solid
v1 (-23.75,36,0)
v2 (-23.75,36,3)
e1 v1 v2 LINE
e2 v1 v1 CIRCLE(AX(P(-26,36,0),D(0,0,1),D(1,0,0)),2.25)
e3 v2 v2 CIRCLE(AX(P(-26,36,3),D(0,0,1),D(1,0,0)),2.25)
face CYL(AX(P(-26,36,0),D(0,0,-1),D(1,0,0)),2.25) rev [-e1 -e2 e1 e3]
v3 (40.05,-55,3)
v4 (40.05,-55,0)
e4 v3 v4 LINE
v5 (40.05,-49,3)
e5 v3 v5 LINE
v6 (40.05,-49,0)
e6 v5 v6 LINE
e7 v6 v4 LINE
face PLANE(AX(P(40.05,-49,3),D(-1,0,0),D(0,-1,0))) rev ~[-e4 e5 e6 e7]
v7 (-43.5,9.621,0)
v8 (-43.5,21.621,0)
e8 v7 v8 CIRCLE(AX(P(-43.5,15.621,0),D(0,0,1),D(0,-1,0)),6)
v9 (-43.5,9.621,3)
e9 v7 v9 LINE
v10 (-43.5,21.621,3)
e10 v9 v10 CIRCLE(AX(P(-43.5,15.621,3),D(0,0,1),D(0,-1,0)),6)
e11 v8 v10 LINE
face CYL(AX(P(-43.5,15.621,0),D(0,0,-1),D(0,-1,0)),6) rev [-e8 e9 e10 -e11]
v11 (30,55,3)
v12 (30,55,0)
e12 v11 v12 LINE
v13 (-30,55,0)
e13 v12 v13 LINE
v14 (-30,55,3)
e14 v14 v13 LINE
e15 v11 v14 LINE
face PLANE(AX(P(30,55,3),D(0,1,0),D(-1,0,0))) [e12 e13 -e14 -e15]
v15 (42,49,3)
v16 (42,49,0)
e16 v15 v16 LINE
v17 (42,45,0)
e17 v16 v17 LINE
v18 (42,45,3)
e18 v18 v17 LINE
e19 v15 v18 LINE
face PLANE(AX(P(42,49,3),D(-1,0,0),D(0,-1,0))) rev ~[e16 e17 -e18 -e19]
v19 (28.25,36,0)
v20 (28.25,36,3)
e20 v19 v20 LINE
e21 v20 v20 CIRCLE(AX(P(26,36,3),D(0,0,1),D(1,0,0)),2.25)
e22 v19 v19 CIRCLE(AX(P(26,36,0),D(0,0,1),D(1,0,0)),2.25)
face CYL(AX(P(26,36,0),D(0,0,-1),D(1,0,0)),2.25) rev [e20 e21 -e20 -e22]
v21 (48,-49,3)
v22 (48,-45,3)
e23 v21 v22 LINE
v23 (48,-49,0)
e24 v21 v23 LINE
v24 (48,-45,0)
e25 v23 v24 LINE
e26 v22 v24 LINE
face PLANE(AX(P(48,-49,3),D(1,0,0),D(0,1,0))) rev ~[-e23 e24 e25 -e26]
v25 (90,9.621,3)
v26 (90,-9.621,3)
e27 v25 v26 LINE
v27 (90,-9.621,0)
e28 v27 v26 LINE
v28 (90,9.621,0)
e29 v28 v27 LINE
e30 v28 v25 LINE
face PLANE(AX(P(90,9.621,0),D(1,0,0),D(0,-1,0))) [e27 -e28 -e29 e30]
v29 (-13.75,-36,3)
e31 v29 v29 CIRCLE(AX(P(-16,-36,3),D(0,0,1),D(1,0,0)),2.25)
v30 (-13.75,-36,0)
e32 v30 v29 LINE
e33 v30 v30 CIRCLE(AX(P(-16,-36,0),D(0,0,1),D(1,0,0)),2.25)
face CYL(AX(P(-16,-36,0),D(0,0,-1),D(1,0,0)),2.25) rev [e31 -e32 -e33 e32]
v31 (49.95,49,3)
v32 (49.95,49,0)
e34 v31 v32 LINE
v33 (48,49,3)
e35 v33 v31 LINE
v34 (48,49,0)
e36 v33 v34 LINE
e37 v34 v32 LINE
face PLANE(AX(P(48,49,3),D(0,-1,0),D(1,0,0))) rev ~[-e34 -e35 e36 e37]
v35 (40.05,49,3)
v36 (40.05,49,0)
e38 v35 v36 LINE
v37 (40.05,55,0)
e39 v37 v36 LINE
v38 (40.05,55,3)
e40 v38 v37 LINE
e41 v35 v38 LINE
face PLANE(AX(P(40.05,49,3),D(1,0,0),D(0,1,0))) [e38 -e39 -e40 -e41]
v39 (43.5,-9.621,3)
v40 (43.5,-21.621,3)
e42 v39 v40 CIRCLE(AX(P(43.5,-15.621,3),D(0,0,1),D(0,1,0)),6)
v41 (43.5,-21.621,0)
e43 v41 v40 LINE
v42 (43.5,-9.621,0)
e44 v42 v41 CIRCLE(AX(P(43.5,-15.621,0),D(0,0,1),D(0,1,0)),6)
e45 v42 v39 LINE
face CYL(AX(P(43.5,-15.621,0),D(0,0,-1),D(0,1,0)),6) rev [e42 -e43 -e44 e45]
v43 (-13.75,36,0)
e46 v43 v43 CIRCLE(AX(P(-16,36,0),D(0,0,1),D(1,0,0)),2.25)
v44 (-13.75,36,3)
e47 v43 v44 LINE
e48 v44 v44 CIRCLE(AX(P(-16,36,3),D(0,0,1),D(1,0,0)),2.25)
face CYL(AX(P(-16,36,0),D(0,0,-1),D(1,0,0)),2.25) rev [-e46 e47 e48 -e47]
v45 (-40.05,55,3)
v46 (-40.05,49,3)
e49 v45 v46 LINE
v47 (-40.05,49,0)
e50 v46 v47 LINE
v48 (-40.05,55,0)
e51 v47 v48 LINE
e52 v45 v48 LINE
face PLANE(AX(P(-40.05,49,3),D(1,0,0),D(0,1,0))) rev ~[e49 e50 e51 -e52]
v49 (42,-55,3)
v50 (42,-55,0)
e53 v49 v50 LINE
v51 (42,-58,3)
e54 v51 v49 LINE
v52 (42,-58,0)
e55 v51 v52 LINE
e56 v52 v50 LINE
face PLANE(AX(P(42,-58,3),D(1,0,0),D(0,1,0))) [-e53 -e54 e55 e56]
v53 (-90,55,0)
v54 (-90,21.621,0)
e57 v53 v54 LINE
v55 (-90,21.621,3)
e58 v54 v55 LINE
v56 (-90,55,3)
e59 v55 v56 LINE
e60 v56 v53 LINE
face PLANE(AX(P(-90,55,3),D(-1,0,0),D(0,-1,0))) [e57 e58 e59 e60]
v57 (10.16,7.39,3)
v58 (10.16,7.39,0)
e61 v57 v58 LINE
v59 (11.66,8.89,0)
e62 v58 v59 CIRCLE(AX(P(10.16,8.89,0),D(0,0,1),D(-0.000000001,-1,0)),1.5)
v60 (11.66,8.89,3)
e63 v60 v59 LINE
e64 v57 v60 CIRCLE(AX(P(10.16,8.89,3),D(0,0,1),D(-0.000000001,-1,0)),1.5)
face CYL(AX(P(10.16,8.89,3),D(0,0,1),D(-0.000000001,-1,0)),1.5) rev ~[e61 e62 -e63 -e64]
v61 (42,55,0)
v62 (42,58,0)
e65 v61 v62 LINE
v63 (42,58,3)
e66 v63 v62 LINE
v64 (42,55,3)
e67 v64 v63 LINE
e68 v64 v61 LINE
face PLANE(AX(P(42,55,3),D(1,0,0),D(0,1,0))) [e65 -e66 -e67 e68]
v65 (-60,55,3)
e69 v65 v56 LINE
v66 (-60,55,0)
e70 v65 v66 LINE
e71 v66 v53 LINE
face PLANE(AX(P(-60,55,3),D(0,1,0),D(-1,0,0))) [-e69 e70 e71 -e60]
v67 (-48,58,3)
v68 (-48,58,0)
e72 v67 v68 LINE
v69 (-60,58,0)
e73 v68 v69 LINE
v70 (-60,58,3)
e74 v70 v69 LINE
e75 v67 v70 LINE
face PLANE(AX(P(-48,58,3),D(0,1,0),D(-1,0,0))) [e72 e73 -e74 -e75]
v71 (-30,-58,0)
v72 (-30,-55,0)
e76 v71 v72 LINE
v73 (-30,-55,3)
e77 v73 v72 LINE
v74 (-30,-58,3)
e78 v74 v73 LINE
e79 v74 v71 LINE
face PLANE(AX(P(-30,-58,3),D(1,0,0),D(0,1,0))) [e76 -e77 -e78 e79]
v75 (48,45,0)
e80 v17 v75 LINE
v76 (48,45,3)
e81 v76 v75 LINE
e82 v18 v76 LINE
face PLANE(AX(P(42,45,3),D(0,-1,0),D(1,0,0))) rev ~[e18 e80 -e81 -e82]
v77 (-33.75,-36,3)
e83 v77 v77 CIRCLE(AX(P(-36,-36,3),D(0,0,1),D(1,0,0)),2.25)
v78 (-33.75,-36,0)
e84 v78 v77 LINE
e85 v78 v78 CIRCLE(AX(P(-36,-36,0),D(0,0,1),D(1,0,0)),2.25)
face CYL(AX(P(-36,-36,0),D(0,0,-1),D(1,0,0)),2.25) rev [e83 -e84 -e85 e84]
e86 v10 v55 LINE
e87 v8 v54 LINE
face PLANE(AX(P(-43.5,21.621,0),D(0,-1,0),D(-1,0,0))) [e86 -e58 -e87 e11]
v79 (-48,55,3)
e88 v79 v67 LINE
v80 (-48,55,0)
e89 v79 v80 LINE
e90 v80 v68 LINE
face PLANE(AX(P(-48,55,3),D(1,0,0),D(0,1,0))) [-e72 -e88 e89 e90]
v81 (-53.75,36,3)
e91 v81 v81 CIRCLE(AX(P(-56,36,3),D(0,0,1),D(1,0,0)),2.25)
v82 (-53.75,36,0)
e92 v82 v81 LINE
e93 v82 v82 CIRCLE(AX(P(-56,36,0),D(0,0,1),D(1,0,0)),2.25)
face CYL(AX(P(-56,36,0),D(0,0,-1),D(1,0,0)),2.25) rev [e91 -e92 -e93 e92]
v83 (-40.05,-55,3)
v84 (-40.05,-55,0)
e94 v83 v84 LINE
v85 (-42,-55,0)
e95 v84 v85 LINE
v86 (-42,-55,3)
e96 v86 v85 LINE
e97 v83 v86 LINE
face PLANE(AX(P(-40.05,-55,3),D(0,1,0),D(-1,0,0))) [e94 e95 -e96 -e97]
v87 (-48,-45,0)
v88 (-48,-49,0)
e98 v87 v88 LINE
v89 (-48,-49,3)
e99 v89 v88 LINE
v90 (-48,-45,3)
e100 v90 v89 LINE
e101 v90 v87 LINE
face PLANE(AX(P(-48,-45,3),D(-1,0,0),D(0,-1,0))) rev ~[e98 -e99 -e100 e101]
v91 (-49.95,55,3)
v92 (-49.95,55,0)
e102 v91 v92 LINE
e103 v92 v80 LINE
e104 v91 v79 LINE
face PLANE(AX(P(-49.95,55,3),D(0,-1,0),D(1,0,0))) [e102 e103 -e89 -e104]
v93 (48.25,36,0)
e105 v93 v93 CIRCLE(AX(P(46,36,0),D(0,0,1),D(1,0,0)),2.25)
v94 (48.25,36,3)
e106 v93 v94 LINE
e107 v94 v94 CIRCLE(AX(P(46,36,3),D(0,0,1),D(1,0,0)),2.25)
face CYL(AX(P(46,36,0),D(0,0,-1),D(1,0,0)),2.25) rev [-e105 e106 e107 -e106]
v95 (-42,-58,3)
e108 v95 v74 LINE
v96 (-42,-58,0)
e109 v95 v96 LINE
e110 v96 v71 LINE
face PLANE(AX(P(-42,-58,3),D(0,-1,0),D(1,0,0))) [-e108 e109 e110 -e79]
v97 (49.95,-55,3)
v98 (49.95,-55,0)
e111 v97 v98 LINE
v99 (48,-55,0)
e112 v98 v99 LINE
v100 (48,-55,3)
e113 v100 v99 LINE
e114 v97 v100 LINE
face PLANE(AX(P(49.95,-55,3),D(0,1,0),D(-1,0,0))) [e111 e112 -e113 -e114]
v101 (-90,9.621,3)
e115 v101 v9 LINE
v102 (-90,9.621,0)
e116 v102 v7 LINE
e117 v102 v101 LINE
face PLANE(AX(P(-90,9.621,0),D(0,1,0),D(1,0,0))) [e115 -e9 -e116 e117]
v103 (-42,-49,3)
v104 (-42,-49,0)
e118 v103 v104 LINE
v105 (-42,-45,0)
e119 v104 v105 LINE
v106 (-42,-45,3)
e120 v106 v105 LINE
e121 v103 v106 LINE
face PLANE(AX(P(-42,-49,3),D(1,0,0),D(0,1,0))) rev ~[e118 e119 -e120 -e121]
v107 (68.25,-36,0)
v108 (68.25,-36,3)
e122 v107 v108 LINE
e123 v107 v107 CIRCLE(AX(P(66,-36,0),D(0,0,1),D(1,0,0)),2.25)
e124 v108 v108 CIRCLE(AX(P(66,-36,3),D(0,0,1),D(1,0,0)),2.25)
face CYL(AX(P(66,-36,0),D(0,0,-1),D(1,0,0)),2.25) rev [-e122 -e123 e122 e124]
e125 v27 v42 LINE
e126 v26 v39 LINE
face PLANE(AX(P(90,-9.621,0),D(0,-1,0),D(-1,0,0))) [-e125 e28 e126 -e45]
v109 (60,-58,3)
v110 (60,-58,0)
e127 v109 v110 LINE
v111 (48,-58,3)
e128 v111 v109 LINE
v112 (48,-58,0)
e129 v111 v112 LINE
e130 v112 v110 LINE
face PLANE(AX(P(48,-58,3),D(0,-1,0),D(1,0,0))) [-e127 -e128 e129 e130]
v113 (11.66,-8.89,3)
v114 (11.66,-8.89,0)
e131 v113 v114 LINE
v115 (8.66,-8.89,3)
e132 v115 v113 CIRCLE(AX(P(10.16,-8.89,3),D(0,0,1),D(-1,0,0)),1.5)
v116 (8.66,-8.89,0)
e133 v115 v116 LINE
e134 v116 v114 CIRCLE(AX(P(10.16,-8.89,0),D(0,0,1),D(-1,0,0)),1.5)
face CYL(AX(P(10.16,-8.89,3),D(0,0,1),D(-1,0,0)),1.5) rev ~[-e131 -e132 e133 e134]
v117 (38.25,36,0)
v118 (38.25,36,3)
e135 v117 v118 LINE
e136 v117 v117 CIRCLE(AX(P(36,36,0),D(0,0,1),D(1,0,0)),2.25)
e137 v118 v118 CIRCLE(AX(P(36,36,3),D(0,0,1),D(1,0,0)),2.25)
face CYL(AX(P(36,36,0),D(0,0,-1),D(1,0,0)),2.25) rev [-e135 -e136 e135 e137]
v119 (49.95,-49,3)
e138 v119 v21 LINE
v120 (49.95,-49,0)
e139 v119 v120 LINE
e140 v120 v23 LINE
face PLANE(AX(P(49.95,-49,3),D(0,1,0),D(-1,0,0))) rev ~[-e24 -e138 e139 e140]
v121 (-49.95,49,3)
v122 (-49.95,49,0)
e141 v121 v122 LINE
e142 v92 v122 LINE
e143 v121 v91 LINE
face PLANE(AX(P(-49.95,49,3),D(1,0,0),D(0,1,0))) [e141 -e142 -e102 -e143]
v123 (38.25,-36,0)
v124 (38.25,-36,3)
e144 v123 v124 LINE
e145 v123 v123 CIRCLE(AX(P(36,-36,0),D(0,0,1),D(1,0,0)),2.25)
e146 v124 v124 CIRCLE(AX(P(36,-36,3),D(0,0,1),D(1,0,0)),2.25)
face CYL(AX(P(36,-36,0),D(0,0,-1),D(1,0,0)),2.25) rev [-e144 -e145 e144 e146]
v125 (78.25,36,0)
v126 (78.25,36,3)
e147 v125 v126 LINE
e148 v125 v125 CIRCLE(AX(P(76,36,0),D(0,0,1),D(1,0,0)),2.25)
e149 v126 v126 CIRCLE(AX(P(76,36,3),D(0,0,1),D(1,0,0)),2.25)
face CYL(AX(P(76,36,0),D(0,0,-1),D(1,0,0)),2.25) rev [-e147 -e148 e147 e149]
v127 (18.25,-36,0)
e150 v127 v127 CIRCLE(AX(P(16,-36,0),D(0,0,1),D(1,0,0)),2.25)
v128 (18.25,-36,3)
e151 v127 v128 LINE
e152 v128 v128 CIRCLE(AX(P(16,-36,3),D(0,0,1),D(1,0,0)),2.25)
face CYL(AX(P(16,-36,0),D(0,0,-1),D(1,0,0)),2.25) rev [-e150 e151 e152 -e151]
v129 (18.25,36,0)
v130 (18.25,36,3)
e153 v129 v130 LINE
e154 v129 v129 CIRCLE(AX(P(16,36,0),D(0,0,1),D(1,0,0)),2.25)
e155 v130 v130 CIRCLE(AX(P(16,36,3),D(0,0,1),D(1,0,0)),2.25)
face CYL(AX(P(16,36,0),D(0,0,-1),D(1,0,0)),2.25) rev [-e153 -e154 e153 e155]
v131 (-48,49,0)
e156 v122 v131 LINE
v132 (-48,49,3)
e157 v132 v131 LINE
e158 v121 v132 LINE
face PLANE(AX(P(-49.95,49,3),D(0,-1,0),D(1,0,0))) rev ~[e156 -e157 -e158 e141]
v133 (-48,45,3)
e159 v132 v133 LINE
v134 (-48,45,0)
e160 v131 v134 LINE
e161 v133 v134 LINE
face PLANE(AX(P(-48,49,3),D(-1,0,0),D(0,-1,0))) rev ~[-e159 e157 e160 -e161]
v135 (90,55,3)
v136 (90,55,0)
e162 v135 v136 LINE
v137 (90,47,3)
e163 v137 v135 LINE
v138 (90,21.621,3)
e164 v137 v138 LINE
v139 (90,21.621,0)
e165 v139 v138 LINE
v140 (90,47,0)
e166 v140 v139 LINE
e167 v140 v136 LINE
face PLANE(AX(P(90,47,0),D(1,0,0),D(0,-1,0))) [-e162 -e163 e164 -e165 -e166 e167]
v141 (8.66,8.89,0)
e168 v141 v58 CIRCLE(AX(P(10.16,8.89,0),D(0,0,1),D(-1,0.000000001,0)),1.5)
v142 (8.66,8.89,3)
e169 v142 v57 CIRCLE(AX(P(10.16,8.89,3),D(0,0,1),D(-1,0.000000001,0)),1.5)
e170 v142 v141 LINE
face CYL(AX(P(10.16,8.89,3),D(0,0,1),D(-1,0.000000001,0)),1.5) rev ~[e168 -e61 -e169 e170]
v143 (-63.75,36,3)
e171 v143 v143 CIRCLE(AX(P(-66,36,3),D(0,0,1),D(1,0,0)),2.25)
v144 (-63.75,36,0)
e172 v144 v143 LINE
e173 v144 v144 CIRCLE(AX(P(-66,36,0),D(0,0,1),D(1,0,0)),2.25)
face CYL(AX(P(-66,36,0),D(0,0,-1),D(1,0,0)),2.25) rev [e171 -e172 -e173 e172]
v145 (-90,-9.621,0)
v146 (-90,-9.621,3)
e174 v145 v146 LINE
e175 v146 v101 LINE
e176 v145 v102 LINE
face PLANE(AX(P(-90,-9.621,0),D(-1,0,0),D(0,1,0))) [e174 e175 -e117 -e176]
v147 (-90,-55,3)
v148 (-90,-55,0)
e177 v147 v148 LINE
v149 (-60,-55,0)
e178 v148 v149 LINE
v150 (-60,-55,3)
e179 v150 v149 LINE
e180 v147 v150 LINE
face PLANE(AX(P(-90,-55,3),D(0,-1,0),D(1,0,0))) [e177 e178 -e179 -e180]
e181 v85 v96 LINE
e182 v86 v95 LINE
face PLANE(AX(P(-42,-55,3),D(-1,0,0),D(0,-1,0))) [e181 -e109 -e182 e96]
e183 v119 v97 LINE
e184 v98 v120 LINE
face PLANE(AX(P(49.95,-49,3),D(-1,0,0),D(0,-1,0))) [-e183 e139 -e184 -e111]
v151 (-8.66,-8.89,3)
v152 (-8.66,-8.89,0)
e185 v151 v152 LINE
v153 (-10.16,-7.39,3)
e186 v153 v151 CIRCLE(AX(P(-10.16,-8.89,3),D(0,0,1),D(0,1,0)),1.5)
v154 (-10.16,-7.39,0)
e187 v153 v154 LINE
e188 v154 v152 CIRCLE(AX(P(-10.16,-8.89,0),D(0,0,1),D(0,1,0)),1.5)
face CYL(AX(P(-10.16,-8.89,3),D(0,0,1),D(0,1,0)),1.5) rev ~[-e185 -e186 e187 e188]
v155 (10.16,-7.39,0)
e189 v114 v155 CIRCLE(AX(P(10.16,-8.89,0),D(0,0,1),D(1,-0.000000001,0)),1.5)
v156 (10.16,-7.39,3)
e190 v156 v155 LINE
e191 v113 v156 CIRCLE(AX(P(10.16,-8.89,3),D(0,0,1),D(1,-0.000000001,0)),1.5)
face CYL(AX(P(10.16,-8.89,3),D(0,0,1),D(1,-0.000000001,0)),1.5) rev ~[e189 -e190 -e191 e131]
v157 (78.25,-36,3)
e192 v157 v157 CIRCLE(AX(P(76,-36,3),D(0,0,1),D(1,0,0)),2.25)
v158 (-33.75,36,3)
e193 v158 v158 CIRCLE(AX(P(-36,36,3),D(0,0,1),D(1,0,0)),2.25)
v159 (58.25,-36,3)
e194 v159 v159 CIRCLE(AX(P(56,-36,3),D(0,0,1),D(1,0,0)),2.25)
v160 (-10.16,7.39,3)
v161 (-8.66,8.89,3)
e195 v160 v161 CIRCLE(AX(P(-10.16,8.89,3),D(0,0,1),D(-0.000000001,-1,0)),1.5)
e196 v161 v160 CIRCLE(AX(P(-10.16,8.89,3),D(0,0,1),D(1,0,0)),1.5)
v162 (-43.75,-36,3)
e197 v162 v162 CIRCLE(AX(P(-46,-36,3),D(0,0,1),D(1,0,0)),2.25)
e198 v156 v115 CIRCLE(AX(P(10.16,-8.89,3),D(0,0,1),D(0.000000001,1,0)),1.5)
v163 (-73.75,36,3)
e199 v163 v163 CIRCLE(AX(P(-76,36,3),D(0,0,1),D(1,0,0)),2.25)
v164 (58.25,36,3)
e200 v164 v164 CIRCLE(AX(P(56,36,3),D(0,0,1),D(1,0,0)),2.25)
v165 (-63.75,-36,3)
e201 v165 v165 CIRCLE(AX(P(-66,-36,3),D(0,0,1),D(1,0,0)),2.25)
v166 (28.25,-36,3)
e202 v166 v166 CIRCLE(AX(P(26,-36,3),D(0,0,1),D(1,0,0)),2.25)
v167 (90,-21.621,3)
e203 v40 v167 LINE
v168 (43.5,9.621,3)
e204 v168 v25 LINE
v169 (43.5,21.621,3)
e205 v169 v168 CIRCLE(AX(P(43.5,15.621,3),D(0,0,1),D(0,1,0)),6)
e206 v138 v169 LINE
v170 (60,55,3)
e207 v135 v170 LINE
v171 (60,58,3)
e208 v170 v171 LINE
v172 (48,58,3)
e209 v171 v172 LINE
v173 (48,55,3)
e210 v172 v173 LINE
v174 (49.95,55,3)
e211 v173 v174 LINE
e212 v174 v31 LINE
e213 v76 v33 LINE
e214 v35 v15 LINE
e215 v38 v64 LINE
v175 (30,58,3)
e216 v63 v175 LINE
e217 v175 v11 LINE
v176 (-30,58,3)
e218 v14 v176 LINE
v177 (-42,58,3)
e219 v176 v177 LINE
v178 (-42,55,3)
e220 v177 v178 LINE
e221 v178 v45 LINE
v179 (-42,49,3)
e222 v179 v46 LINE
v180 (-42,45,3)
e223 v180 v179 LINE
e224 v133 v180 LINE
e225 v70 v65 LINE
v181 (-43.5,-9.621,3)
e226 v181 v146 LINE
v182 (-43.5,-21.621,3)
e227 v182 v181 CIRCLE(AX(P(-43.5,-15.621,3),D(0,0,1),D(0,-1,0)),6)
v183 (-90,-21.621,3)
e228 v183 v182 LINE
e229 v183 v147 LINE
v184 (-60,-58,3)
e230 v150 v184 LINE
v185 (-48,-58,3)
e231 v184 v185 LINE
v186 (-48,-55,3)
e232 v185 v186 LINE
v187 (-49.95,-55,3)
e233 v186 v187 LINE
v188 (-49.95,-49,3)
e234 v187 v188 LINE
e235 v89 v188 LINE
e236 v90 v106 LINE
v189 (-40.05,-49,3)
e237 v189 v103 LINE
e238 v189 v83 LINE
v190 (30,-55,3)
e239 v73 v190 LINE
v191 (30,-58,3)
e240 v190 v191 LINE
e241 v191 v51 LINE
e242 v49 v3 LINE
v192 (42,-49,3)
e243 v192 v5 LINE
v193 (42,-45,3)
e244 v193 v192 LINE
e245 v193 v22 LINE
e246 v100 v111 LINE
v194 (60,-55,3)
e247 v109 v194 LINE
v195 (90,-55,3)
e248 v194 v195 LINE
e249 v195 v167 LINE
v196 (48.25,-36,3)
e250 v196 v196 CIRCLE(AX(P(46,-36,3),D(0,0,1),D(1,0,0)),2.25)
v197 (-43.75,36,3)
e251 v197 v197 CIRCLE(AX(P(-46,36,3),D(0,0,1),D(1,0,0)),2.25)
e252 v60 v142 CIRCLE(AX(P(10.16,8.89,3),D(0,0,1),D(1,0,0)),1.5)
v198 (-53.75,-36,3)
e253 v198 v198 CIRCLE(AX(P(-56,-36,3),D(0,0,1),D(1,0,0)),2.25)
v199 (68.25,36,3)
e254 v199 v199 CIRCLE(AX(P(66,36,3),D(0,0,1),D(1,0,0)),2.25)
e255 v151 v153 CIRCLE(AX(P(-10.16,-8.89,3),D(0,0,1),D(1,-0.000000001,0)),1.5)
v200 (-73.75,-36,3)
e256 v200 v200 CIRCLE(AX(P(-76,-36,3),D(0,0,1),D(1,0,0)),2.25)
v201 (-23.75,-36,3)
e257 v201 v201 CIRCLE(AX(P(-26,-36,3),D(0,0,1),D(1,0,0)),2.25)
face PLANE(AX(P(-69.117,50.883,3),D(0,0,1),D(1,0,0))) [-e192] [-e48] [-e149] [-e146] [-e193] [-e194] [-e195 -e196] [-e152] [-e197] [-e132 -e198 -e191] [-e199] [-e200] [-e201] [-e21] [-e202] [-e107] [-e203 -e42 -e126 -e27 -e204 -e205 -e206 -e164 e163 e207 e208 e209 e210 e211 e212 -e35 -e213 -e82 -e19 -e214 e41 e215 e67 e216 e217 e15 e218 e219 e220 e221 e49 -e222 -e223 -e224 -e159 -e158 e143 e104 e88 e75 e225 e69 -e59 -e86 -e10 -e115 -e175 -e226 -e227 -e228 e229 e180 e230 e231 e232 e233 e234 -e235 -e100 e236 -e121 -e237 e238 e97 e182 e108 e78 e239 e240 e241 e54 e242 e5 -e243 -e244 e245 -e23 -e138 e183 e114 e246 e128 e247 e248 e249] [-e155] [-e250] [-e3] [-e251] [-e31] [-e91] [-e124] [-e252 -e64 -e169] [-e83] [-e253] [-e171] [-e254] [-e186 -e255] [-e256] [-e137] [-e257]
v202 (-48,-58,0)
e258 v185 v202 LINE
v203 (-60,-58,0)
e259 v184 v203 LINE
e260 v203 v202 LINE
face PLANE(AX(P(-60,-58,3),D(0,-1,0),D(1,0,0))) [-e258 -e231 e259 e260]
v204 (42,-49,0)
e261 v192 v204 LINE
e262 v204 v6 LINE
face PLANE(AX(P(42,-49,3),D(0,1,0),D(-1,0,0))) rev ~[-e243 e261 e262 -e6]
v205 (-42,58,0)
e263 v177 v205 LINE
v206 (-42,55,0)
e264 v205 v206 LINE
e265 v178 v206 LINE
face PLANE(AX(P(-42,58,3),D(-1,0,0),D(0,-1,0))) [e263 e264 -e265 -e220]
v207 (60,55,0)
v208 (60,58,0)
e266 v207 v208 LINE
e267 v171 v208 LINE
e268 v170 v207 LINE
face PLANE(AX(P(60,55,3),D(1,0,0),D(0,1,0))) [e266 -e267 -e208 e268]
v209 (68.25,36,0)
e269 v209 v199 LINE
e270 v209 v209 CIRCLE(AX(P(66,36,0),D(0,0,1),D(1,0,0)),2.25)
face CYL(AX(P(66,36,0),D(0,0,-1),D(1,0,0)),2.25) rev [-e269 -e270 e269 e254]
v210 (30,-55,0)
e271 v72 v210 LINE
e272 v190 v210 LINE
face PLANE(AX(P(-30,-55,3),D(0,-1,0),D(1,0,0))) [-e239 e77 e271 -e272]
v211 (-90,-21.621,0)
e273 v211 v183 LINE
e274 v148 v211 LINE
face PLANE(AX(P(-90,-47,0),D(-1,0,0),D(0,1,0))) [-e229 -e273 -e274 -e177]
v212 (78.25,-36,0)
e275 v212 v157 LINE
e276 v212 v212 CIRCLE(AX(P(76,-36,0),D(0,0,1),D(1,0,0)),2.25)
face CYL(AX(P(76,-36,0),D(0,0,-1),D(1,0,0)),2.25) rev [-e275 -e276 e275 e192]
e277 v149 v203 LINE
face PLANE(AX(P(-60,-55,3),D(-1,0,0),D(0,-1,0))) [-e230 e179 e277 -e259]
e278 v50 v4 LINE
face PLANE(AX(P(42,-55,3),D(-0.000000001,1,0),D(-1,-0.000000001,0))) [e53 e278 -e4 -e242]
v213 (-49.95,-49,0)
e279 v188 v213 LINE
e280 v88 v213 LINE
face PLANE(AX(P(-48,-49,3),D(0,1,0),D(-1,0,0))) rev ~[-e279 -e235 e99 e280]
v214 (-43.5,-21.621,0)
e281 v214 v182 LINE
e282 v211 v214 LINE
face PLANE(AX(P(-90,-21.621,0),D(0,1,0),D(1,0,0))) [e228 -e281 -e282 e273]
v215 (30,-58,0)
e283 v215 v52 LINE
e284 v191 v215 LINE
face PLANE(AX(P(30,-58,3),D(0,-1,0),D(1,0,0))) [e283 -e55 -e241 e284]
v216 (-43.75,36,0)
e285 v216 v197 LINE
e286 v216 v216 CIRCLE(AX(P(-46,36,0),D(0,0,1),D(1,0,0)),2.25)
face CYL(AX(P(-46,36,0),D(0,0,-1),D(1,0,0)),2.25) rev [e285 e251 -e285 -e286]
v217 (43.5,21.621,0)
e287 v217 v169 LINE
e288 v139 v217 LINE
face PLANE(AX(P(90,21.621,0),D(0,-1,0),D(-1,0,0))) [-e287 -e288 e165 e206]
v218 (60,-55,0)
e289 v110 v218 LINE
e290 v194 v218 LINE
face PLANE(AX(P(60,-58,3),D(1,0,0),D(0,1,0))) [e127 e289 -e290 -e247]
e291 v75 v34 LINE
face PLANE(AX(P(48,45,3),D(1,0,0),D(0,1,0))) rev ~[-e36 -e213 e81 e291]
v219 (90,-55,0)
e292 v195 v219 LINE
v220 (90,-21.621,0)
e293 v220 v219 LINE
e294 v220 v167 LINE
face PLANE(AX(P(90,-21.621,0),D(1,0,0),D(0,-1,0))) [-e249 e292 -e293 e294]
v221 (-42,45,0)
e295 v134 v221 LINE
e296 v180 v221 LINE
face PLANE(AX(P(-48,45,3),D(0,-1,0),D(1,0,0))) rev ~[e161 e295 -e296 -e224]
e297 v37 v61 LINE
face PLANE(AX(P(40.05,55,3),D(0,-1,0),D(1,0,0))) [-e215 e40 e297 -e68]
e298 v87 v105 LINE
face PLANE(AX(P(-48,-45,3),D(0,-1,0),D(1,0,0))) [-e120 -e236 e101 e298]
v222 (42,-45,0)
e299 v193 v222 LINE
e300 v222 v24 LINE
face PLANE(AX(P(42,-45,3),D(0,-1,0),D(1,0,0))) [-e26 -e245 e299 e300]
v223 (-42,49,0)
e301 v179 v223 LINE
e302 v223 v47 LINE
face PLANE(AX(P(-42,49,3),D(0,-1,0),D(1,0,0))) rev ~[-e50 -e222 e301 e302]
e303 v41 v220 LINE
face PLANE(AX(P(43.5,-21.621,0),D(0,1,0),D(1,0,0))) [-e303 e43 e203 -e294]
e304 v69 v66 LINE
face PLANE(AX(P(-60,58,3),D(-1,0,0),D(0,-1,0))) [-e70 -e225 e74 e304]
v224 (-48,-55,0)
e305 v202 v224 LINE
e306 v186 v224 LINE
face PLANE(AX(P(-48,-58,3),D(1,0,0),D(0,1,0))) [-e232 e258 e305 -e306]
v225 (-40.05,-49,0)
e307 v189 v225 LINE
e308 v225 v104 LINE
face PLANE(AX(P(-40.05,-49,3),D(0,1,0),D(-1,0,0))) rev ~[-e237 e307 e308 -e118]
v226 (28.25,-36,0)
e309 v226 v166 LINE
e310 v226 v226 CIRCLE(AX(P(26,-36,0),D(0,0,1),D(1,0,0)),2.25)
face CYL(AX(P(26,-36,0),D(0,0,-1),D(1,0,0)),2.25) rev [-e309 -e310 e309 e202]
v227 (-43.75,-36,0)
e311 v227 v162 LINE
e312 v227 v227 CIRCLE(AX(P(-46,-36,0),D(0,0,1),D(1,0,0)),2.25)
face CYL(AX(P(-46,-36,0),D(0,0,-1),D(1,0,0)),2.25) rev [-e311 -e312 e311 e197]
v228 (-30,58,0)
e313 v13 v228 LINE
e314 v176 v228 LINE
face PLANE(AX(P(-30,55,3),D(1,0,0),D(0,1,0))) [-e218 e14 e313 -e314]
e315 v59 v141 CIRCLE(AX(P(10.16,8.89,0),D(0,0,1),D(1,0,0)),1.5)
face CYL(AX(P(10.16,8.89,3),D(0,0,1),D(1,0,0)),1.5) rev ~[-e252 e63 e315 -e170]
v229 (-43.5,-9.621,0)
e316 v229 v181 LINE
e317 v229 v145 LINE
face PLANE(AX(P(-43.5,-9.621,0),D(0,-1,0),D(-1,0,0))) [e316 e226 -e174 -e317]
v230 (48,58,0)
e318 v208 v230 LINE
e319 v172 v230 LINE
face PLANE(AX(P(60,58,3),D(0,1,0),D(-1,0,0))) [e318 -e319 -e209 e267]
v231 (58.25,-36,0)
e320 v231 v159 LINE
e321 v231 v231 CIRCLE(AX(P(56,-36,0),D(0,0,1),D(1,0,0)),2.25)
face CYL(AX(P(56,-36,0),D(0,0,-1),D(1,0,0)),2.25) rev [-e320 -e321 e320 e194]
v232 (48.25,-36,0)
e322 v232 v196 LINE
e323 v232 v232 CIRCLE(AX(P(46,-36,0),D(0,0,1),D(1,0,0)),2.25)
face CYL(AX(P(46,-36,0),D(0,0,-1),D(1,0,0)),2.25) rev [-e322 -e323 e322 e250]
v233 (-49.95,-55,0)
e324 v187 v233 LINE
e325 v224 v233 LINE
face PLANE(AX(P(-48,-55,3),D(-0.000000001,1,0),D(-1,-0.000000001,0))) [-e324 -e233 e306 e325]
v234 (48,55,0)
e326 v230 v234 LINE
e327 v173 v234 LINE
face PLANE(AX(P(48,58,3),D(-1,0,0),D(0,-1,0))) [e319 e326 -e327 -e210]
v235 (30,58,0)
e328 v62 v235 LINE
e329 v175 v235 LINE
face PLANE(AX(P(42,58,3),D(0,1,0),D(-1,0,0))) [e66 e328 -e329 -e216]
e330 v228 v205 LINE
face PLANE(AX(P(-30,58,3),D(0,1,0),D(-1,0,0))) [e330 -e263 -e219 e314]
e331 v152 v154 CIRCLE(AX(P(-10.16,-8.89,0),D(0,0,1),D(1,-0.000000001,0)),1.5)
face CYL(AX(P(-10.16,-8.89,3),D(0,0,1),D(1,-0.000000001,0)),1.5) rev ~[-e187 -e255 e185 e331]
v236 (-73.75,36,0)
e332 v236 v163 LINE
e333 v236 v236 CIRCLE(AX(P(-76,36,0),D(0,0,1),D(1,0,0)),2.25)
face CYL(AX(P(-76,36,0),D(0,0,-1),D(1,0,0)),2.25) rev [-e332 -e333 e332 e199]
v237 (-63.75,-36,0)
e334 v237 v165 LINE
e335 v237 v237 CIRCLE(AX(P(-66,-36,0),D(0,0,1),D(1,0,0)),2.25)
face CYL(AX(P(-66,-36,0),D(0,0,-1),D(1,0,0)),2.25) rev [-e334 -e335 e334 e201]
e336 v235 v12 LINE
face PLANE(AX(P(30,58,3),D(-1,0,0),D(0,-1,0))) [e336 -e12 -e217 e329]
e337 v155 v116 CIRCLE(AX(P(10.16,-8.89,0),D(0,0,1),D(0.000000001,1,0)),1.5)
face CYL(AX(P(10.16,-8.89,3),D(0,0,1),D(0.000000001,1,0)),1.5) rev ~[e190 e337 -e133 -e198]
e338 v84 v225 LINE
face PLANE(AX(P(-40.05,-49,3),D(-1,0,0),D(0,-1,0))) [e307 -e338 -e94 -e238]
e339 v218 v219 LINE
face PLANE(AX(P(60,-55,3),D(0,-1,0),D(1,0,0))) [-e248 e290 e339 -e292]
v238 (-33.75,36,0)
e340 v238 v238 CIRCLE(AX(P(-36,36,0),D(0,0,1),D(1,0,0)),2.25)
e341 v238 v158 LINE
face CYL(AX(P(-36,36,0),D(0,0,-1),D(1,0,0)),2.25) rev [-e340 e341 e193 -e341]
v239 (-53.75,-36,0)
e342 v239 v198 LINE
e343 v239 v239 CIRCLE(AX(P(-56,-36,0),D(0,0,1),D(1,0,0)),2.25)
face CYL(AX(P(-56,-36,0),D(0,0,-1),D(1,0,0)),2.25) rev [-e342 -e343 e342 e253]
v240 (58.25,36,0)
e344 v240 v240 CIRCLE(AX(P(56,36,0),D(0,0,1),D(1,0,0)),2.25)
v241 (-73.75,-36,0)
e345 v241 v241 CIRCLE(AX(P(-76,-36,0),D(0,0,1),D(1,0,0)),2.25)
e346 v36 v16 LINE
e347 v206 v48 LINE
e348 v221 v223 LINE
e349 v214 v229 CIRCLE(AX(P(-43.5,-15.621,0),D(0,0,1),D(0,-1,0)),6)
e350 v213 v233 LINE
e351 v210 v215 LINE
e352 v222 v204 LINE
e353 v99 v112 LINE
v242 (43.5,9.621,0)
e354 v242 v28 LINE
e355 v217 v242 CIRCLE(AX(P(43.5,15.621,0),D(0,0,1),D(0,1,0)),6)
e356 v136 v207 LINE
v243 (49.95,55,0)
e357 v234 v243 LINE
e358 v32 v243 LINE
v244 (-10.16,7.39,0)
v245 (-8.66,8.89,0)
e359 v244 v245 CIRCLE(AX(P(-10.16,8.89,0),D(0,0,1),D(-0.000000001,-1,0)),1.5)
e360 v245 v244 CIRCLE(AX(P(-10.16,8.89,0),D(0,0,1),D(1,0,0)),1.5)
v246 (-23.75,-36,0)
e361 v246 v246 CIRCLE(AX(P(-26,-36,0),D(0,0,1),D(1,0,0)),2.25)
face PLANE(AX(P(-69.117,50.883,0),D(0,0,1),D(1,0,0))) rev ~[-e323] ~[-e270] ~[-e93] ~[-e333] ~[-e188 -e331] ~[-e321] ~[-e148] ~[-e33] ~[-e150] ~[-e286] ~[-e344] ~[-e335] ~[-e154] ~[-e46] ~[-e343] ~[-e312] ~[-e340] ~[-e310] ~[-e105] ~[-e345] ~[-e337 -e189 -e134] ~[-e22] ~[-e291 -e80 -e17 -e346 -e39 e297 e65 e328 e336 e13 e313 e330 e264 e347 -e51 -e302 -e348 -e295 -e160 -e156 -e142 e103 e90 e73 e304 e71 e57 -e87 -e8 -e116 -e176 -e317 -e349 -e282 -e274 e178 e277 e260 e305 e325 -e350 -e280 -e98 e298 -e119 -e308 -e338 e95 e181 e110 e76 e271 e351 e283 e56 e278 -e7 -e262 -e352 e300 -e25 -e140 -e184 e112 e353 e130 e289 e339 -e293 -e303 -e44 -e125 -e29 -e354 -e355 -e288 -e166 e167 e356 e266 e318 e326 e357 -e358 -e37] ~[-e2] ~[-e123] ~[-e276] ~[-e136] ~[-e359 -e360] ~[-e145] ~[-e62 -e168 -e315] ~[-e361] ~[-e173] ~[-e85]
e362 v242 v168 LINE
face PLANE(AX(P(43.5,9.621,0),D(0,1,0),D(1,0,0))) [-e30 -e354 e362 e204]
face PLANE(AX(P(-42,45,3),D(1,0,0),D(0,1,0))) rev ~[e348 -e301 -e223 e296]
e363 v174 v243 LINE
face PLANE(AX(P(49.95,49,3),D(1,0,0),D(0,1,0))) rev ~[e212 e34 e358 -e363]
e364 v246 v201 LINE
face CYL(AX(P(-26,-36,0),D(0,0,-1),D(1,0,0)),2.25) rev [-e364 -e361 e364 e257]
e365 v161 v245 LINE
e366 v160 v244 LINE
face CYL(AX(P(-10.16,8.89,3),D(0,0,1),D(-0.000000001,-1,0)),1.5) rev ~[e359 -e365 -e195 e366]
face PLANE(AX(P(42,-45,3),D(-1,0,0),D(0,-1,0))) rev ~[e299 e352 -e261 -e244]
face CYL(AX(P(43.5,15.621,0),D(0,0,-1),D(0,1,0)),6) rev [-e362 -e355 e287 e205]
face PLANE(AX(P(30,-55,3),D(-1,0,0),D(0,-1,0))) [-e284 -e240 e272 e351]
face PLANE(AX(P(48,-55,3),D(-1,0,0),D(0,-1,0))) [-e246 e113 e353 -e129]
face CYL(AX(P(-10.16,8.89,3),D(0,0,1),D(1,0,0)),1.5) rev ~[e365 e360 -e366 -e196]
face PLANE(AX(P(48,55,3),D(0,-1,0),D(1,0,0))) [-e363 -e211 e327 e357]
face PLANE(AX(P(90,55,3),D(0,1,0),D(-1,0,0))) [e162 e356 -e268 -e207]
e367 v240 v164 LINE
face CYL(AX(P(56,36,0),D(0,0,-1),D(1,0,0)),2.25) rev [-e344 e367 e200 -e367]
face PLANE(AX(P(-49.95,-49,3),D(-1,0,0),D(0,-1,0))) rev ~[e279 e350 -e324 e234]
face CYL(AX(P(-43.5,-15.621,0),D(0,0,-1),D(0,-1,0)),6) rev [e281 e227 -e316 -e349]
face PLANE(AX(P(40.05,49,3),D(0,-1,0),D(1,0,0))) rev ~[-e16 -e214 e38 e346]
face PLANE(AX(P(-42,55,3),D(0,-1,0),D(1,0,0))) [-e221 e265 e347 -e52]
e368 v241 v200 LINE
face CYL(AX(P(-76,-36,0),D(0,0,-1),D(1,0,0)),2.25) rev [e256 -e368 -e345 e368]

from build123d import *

# Parameters (mm, degrees)
SKETCH1_R             = 2.25
PLATE_THICKNESS_DEPTH = 3
EXTRUDE_2_DEPTH       = 3
SKETCH_2_3_W          = 6
SKETCH_2_3_H          = 6
SKETCH_2_3_H_2        = 2
SKETCH_2_3_W_2        = 1.95
SKETCH_2_3_H_3        = 2.000000003
SKETCH_2_3_H_4        = 1.999999997
SKETCH_2_3_H_5        = 6.000000001
CUT_EXTRUDE_1_DEPTH   = 3


with BuildPart() as part:
    # Sketch1 → Plate_thickness (new body)
    with BuildSketch(Plane.XY):
        with BuildLine():
            Line((-90, -47), (-90, -21.621))
            Line((-90, -21.621), (-43.5, -21.621))
            ThreePointArc((-43.5, -21.621), (-37.5, -15.621), (-43.5, -9.621))
            Line((-43.5, -9.621), (-90, -9.621))
            Line((-90, -9.621), (-90, 9.621))
            Line((-90, 9.621), (-43.5, 9.621))
            ThreePointArc((-43.5, 9.621), (-37.5, 15.621), (-43.5, 21.621))
            Line((-43.5, 21.621), (-90, 21.621))
            Line((-90, 21.621), (-90, 46.999999997))
            ThreePointArc((-90, 46.999999997), (-89.121320344, 49.12132034), (-87, 49.999999997))
            Line((-87, 49.999999997), (87, 49.999999997))
            ThreePointArc((87, 49.999999997), (89.121320345, 49.12132034), (90.000000002, 46.999999995))
            Line((90.000000002, 46.999999995), (90.000000002, 21.621))
            Line((90.000000002, 21.621), (43.5, 21.621))
            ThreePointArc((43.5, 21.621), (37.5, 15.621), (43.5, 9.621))
            Line((43.5, 9.621), (90, 9.621))
            Line((90, 9.621), (90, -9.621))
            Line((90, -9.621), (43.5, -9.621))
            ThreePointArc((43.5, -9.621), (37.5, -15.621), (43.5, -21.621))
            Line((43.5, -21.621), (90, -21.621))
            Line((90, -21.621), (90, -47))
            ThreePointArc((90, -47), (89.121320344, -49.121320344), (87, -50))
            Line((87, -50), (-87, -50))
            ThreePointArc((-87, -50), (-89.121320344, -49.121320344), (-90, -47))
        make_face()
        with Locations((-76, -36)):
            Circle(SKETCH1_R, mode=Mode.SUBTRACT)
        with Locations((-66, -36)):
            Circle(SKETCH1_R, mode=Mode.SUBTRACT)
        with Locations((-56, -36)):
            Circle(SKETCH1_R, mode=Mode.SUBTRACT)
        with Locations((-46, -36)):
            Circle(SKETCH1_R, mode=Mode.SUBTRACT)
        with Locations((-36, -36)):
            Circle(SKETCH1_R, mode=Mode.SUBTRACT)
        with Locations((-26, -36)):
            Circle(SKETCH1_R, mode=Mode.SUBTRACT)
        with Locations((-16, -36)):
            Circle(SKETCH1_R, mode=Mode.SUBTRACT)
        with Locations((16, -36)):
            Circle(SKETCH1_R, mode=Mode.SUBTRACT)
        with Locations((26, -36)):
            Circle(SKETCH1_R, mode=Mode.SUBTRACT)
        with Locations((36, -36)):
            Circle(SKETCH1_R, mode=Mode.SUBTRACT)
        with Locations((46, -36)):
            Circle(SKETCH1_R, mode=Mode.SUBTRACT)
        with Locations((56, -36)):
            Circle(SKETCH1_R, mode=Mode.SUBTRACT)
        with Locations((66, -36)):
            Circle(SKETCH1_R, mode=Mode.SUBTRACT)
        with Locations((76, -36)):
            Circle(SKETCH1_R, mode=Mode.SUBTRACT)
        with Locations((-76, 36)):
            Circle(SKETCH1_R, mode=Mode.SUBTRACT)
        with Locations((-66, 36)):
            Circle(SKETCH1_R, mode=Mode.SUBTRACT)
        with Locations((-56, 36)):
            Circle(SKETCH1_R, mode=Mode.SUBTRACT)
        with Locations((-46, 36)):
            Circle(SKETCH1_R, mode=Mode.SUBTRACT)
        with Locations((-36, 36)):
            Circle(SKETCH1_R, mode=Mode.SUBTRACT)
        with Locations((-26, 36)):
            Circle(SKETCH1_R, mode=Mode.SUBTRACT)
        with Locations((-16, 36)):
            Circle(SKETCH1_R, mode=Mode.SUBTRACT)
        with Locations((16, 36)):
            Circle(SKETCH1_R, mode=Mode.SUBTRACT)
        with Locations((26, 36)):
            Circle(SKETCH1_R, mode=Mode.SUBTRACT)
        with Locations((36, 36)):
            Circle(SKETCH1_R, mode=Mode.SUBTRACT)
        with Locations((46, 36)):
            Circle(SKETCH1_R, mode=Mode.SUBTRACT)
        with Locations((56, 36)):
            Circle(SKETCH1_R, mode=Mode.SUBTRACT)
        with Locations((66, 36)):
            Circle(SKETCH1_R, mode=Mode.SUBTRACT)
        with Locations((76, 36)):
            Circle(SKETCH1_R, mode=Mode.SUBTRACT)
    extrude(amount=PLATE_THICKNESS_DEPTH)

    # 草图2 → 凸台-拉伸2 (add)
    with BuildSketch(Plane.XY.offset(3)):
        Polygon((-90, 54.999999997), (-90, 46.999999997), (-48, 46.999999997), (-48, 48.999999997), (-49.95, 48.999999997), (-49.95, 54.999999997), (-60, 54.999999997), align=None)
        Polygon((-42, 48.999999997), (-42, 46.999999997), (0, 46.999999997), (42, 46.999999997), (42, 48.999999997), (40.05, 48.999999997), (40.05, 54.999999997), (30, 54.999999997), (-30, 54.999999997), (-40.05, 54.999999997), (-40.05, 48.999999997), align=None)
        Polygon((-42, 57.999999997), (-42, 54.999999997), (-40.05, 54.999999997), (-30, 54.999999997), (-30, 57.999999997), align=None)
        Polygon((-60, 57.999999997), (-60, 54.999999997), (-49.95, 54.999999997), (-48, 54.999999997), (-48, 57.999999997), align=None)
        Polygon((48, 48.999999997), (48, 46.999999997), (90, 46.999999997), (90, 54.999999997), (60, 54.999999997), (49.95, 54.999999997), (49.95, 48.999999997), align=None)
        Polygon((48, 57.999999997), (48, 54.999999997), (49.95, 54.999999997), (60, 54.999999997), (60, 57.999999997), align=None)
        Polygon((40.05, 54.999999997), (42, 54.999999997), (42, 57.999999997), (30, 57.999999997), (30, 54.999999997), align=None)
        Polygon((42, -47), (0, -47), (-42, -47), (-42, -48.999999997), (-40.05, -48.999999997), (-40.05, -54.999999997), (-30, -55), (30, -55), (40.05, -55), (40.05, -48.999999997), (42, -48.999999997), align=None)
        Polygon((90, -47), (48, -47), (48, -48.999999997), (49.95, -48.999999997), (49.95, -54.999999997), (60, -55), (90, -55), align=None)
        Polygon((-48, -48.999999997), (-48, -47), (-90, -47), (-90, -55), (-60, -55), (-49.95, -55), (-49.95, -48.999999997), align=None)
        Polygon((-48, -57.999999997), (-48, -54.999999998), (-49.95, -55), (-60, -55), (-60, -57.999999997), align=None)
        Polygon((-40.05, -55), (-42, -55), (-42, -57.999999997), (-30, -57.999999997), (-30, -54.999999997), align=None)
        Polygon((42, -57.999999997), (42, -54.999999998), (40.05, -55), (30, -55), (30, -57.999999997), align=None)
        Polygon((49.95, -55), (48, -55), (48, -57.999999997), (60, -57.999999997), (60, -54.999999997), align=None)
    extrude(amount=-EXTRUDE_2_DEPTH)

    # 草图2<3> → 切除-拉伸1 (cut)
    with BuildSketch(Plane.XY.offset(3)):
        with Locations((-45, 51.999999997)):
            Rectangle(SKETCH_2_3_W, SKETCH_2_3_H)
        with Locations((-45, 47.999999997)):
            Rectangle(SKETCH_2_3_W, SKETCH_2_3_H_2)
        with Locations((-45, 45.999999997)):
            Rectangle(SKETCH_2_3_W, SKETCH_2_3_H_2)
        with Locations((-41.025, 51.999999997)):
            Rectangle(SKETCH_2_3_W_2, SKETCH_2_3_H)
        with Locations((-48.975, 51.999999997)):
            Rectangle(SKETCH_2_3_W_2, SKETCH_2_3_H)
        with Locations((41.025, 51.999999997)):
            Rectangle(SKETCH_2_3_W_2, SKETCH_2_3_H)
        with Locations((45, 51.999999997)):
            Rectangle(SKETCH_2_3_W, SKETCH_2_3_H)
        with Locations((48.975, 51.999999997)):
            Rectangle(SKETCH_2_3_W_2, SKETCH_2_3_H)
        with Locations((45, 47.999999997)):
            Rectangle(SKETCH_2_3_W, SKETCH_2_3_H_2)
        with Locations((45, 45.999999997)):
            Rectangle(SKETCH_2_3_W, SKETCH_2_3_H_2)
        with Locations((45, -45.999999999)):
            Rectangle(SKETCH_2_3_W, SKETCH_2_3_H_3)
        with Locations((45, -47.999999999)):
            Rectangle(SKETCH_2_3_W, SKETCH_2_3_H_4)
        Polygon((48, -48.999999997), (42, -48.999999997), (42, -54.999999998), (48, -55), align=None)
        Polygon((42, -54.999999998), (42, -48.999999997), (40.05, -48.999999997), (40.05, -54.999999997), align=None)
        Polygon((49.95, -48.999999997), (48, -48.999999997), (48, -54.999999998), (49.95, -55), align=None)
        with Locations((-45, -45.999999999)):
            Rectangle(SKETCH_2_3_W, SKETCH_2_3_H_3)
        with Locations((-45, -47.999999999)):
            Rectangle(SKETCH_2_3_W, SKETCH_2_3_H_4)
        with Locations((-45, -51.999999998)):
            Rectangle(SKETCH_2_3_W, SKETCH_2_3_H_5)
        Polygon((-48, -54.999999998), (-48, -48.999999997), (-49.95, -48.999999997), (-49.95, -54.999999997), align=None)
        Polygon((-40.05, -48.999999997), (-42, -48.999999997), (-42, -54.999999998), (-40.05, -55), align=None)
        with BuildLine():
            ThreePointArc((-10.16, 7.39), (-9.099339828, 7.829339828), (-8.66, 8.89))
            Line((-8.66, 8.89), (-10.16, 8.89))
            Line((-10.16, 8.89), (-10.16, 7.39))
        make_face()
        with BuildLine():
            Line((-10.16, 8.89), (-8.66, 8.89))
            ThreePointArc((-8.66, 8.89), (-11.220660172, 9.950660172), (-10.16, 7.39))
            Line((-10.16, 7.39), (-10.16, 8.89))
        make_face()
        with BuildLine():
            ThreePointArc((11.66, 8.89), (10.16, 10.39), (8.66, 8.89))
            Line((8.66, 8.89), (10.16, 8.89))
            Line((10.16, 8.89), (10.16, 7.39))
            ThreePointArc((10.16, 7.39), (11.220660172, 7.829339828), (11.66, 8.89))
        make_face()
        with BuildLine():
            Line((10.16, 8.89), (8.66, 8.89))
            ThreePointArc((8.66, 8.89), (9.099339828, 7.829339828), (10.16, 7.39))
            Line((10.16, 7.39), (10.16, 8.89))
        make_face()
        with BuildLine():
            ThreePointArc((10.16, -7.39), (9.099339828, -7.829339828), (8.66, -8.89))
            Line((8.66, -8.89), (10.16, -8.89))
            Line((10.16, -8.89), (10.16, -7.39))
        make_face()
        with BuildLine():
            Line((10.16, -8.89), (8.66, -8.89))
            ThreePointArc((8.66, -8.89), (10.16, -10.39), (11.66, -8.89))
            ThreePointArc((11.66, -8.89), (11.220660172, -7.829339828), (10.16, -7.39))
            Line((10.16, -7.39), (10.16, -8.89))
        make_face()
        with BuildLine():
            ThreePointArc((-10.16, -7.39), (-11.220660172, -9.950660172), (-8.66, -8.89))
            Line((-8.66, -8.89), (-10.16, -8.89))
            Line((-10.16, -8.89), (-10.16, -7.39))
        make_face()
        with BuildLine():
            Line((-10.16, -8.89), (-8.66, -8.89))
            ThreePointArc((-8.66, -8.89), (-9.099339828, -7.829339828), (-10.16, -7.39))
            Line((-10.16, -7.39), (-10.16, -8.89))
        make_face()
    extrude(amount=-CUT_EXTRUDE_1_DEPTH, mode=Mode.SUBTRACT)


solid = part.part
